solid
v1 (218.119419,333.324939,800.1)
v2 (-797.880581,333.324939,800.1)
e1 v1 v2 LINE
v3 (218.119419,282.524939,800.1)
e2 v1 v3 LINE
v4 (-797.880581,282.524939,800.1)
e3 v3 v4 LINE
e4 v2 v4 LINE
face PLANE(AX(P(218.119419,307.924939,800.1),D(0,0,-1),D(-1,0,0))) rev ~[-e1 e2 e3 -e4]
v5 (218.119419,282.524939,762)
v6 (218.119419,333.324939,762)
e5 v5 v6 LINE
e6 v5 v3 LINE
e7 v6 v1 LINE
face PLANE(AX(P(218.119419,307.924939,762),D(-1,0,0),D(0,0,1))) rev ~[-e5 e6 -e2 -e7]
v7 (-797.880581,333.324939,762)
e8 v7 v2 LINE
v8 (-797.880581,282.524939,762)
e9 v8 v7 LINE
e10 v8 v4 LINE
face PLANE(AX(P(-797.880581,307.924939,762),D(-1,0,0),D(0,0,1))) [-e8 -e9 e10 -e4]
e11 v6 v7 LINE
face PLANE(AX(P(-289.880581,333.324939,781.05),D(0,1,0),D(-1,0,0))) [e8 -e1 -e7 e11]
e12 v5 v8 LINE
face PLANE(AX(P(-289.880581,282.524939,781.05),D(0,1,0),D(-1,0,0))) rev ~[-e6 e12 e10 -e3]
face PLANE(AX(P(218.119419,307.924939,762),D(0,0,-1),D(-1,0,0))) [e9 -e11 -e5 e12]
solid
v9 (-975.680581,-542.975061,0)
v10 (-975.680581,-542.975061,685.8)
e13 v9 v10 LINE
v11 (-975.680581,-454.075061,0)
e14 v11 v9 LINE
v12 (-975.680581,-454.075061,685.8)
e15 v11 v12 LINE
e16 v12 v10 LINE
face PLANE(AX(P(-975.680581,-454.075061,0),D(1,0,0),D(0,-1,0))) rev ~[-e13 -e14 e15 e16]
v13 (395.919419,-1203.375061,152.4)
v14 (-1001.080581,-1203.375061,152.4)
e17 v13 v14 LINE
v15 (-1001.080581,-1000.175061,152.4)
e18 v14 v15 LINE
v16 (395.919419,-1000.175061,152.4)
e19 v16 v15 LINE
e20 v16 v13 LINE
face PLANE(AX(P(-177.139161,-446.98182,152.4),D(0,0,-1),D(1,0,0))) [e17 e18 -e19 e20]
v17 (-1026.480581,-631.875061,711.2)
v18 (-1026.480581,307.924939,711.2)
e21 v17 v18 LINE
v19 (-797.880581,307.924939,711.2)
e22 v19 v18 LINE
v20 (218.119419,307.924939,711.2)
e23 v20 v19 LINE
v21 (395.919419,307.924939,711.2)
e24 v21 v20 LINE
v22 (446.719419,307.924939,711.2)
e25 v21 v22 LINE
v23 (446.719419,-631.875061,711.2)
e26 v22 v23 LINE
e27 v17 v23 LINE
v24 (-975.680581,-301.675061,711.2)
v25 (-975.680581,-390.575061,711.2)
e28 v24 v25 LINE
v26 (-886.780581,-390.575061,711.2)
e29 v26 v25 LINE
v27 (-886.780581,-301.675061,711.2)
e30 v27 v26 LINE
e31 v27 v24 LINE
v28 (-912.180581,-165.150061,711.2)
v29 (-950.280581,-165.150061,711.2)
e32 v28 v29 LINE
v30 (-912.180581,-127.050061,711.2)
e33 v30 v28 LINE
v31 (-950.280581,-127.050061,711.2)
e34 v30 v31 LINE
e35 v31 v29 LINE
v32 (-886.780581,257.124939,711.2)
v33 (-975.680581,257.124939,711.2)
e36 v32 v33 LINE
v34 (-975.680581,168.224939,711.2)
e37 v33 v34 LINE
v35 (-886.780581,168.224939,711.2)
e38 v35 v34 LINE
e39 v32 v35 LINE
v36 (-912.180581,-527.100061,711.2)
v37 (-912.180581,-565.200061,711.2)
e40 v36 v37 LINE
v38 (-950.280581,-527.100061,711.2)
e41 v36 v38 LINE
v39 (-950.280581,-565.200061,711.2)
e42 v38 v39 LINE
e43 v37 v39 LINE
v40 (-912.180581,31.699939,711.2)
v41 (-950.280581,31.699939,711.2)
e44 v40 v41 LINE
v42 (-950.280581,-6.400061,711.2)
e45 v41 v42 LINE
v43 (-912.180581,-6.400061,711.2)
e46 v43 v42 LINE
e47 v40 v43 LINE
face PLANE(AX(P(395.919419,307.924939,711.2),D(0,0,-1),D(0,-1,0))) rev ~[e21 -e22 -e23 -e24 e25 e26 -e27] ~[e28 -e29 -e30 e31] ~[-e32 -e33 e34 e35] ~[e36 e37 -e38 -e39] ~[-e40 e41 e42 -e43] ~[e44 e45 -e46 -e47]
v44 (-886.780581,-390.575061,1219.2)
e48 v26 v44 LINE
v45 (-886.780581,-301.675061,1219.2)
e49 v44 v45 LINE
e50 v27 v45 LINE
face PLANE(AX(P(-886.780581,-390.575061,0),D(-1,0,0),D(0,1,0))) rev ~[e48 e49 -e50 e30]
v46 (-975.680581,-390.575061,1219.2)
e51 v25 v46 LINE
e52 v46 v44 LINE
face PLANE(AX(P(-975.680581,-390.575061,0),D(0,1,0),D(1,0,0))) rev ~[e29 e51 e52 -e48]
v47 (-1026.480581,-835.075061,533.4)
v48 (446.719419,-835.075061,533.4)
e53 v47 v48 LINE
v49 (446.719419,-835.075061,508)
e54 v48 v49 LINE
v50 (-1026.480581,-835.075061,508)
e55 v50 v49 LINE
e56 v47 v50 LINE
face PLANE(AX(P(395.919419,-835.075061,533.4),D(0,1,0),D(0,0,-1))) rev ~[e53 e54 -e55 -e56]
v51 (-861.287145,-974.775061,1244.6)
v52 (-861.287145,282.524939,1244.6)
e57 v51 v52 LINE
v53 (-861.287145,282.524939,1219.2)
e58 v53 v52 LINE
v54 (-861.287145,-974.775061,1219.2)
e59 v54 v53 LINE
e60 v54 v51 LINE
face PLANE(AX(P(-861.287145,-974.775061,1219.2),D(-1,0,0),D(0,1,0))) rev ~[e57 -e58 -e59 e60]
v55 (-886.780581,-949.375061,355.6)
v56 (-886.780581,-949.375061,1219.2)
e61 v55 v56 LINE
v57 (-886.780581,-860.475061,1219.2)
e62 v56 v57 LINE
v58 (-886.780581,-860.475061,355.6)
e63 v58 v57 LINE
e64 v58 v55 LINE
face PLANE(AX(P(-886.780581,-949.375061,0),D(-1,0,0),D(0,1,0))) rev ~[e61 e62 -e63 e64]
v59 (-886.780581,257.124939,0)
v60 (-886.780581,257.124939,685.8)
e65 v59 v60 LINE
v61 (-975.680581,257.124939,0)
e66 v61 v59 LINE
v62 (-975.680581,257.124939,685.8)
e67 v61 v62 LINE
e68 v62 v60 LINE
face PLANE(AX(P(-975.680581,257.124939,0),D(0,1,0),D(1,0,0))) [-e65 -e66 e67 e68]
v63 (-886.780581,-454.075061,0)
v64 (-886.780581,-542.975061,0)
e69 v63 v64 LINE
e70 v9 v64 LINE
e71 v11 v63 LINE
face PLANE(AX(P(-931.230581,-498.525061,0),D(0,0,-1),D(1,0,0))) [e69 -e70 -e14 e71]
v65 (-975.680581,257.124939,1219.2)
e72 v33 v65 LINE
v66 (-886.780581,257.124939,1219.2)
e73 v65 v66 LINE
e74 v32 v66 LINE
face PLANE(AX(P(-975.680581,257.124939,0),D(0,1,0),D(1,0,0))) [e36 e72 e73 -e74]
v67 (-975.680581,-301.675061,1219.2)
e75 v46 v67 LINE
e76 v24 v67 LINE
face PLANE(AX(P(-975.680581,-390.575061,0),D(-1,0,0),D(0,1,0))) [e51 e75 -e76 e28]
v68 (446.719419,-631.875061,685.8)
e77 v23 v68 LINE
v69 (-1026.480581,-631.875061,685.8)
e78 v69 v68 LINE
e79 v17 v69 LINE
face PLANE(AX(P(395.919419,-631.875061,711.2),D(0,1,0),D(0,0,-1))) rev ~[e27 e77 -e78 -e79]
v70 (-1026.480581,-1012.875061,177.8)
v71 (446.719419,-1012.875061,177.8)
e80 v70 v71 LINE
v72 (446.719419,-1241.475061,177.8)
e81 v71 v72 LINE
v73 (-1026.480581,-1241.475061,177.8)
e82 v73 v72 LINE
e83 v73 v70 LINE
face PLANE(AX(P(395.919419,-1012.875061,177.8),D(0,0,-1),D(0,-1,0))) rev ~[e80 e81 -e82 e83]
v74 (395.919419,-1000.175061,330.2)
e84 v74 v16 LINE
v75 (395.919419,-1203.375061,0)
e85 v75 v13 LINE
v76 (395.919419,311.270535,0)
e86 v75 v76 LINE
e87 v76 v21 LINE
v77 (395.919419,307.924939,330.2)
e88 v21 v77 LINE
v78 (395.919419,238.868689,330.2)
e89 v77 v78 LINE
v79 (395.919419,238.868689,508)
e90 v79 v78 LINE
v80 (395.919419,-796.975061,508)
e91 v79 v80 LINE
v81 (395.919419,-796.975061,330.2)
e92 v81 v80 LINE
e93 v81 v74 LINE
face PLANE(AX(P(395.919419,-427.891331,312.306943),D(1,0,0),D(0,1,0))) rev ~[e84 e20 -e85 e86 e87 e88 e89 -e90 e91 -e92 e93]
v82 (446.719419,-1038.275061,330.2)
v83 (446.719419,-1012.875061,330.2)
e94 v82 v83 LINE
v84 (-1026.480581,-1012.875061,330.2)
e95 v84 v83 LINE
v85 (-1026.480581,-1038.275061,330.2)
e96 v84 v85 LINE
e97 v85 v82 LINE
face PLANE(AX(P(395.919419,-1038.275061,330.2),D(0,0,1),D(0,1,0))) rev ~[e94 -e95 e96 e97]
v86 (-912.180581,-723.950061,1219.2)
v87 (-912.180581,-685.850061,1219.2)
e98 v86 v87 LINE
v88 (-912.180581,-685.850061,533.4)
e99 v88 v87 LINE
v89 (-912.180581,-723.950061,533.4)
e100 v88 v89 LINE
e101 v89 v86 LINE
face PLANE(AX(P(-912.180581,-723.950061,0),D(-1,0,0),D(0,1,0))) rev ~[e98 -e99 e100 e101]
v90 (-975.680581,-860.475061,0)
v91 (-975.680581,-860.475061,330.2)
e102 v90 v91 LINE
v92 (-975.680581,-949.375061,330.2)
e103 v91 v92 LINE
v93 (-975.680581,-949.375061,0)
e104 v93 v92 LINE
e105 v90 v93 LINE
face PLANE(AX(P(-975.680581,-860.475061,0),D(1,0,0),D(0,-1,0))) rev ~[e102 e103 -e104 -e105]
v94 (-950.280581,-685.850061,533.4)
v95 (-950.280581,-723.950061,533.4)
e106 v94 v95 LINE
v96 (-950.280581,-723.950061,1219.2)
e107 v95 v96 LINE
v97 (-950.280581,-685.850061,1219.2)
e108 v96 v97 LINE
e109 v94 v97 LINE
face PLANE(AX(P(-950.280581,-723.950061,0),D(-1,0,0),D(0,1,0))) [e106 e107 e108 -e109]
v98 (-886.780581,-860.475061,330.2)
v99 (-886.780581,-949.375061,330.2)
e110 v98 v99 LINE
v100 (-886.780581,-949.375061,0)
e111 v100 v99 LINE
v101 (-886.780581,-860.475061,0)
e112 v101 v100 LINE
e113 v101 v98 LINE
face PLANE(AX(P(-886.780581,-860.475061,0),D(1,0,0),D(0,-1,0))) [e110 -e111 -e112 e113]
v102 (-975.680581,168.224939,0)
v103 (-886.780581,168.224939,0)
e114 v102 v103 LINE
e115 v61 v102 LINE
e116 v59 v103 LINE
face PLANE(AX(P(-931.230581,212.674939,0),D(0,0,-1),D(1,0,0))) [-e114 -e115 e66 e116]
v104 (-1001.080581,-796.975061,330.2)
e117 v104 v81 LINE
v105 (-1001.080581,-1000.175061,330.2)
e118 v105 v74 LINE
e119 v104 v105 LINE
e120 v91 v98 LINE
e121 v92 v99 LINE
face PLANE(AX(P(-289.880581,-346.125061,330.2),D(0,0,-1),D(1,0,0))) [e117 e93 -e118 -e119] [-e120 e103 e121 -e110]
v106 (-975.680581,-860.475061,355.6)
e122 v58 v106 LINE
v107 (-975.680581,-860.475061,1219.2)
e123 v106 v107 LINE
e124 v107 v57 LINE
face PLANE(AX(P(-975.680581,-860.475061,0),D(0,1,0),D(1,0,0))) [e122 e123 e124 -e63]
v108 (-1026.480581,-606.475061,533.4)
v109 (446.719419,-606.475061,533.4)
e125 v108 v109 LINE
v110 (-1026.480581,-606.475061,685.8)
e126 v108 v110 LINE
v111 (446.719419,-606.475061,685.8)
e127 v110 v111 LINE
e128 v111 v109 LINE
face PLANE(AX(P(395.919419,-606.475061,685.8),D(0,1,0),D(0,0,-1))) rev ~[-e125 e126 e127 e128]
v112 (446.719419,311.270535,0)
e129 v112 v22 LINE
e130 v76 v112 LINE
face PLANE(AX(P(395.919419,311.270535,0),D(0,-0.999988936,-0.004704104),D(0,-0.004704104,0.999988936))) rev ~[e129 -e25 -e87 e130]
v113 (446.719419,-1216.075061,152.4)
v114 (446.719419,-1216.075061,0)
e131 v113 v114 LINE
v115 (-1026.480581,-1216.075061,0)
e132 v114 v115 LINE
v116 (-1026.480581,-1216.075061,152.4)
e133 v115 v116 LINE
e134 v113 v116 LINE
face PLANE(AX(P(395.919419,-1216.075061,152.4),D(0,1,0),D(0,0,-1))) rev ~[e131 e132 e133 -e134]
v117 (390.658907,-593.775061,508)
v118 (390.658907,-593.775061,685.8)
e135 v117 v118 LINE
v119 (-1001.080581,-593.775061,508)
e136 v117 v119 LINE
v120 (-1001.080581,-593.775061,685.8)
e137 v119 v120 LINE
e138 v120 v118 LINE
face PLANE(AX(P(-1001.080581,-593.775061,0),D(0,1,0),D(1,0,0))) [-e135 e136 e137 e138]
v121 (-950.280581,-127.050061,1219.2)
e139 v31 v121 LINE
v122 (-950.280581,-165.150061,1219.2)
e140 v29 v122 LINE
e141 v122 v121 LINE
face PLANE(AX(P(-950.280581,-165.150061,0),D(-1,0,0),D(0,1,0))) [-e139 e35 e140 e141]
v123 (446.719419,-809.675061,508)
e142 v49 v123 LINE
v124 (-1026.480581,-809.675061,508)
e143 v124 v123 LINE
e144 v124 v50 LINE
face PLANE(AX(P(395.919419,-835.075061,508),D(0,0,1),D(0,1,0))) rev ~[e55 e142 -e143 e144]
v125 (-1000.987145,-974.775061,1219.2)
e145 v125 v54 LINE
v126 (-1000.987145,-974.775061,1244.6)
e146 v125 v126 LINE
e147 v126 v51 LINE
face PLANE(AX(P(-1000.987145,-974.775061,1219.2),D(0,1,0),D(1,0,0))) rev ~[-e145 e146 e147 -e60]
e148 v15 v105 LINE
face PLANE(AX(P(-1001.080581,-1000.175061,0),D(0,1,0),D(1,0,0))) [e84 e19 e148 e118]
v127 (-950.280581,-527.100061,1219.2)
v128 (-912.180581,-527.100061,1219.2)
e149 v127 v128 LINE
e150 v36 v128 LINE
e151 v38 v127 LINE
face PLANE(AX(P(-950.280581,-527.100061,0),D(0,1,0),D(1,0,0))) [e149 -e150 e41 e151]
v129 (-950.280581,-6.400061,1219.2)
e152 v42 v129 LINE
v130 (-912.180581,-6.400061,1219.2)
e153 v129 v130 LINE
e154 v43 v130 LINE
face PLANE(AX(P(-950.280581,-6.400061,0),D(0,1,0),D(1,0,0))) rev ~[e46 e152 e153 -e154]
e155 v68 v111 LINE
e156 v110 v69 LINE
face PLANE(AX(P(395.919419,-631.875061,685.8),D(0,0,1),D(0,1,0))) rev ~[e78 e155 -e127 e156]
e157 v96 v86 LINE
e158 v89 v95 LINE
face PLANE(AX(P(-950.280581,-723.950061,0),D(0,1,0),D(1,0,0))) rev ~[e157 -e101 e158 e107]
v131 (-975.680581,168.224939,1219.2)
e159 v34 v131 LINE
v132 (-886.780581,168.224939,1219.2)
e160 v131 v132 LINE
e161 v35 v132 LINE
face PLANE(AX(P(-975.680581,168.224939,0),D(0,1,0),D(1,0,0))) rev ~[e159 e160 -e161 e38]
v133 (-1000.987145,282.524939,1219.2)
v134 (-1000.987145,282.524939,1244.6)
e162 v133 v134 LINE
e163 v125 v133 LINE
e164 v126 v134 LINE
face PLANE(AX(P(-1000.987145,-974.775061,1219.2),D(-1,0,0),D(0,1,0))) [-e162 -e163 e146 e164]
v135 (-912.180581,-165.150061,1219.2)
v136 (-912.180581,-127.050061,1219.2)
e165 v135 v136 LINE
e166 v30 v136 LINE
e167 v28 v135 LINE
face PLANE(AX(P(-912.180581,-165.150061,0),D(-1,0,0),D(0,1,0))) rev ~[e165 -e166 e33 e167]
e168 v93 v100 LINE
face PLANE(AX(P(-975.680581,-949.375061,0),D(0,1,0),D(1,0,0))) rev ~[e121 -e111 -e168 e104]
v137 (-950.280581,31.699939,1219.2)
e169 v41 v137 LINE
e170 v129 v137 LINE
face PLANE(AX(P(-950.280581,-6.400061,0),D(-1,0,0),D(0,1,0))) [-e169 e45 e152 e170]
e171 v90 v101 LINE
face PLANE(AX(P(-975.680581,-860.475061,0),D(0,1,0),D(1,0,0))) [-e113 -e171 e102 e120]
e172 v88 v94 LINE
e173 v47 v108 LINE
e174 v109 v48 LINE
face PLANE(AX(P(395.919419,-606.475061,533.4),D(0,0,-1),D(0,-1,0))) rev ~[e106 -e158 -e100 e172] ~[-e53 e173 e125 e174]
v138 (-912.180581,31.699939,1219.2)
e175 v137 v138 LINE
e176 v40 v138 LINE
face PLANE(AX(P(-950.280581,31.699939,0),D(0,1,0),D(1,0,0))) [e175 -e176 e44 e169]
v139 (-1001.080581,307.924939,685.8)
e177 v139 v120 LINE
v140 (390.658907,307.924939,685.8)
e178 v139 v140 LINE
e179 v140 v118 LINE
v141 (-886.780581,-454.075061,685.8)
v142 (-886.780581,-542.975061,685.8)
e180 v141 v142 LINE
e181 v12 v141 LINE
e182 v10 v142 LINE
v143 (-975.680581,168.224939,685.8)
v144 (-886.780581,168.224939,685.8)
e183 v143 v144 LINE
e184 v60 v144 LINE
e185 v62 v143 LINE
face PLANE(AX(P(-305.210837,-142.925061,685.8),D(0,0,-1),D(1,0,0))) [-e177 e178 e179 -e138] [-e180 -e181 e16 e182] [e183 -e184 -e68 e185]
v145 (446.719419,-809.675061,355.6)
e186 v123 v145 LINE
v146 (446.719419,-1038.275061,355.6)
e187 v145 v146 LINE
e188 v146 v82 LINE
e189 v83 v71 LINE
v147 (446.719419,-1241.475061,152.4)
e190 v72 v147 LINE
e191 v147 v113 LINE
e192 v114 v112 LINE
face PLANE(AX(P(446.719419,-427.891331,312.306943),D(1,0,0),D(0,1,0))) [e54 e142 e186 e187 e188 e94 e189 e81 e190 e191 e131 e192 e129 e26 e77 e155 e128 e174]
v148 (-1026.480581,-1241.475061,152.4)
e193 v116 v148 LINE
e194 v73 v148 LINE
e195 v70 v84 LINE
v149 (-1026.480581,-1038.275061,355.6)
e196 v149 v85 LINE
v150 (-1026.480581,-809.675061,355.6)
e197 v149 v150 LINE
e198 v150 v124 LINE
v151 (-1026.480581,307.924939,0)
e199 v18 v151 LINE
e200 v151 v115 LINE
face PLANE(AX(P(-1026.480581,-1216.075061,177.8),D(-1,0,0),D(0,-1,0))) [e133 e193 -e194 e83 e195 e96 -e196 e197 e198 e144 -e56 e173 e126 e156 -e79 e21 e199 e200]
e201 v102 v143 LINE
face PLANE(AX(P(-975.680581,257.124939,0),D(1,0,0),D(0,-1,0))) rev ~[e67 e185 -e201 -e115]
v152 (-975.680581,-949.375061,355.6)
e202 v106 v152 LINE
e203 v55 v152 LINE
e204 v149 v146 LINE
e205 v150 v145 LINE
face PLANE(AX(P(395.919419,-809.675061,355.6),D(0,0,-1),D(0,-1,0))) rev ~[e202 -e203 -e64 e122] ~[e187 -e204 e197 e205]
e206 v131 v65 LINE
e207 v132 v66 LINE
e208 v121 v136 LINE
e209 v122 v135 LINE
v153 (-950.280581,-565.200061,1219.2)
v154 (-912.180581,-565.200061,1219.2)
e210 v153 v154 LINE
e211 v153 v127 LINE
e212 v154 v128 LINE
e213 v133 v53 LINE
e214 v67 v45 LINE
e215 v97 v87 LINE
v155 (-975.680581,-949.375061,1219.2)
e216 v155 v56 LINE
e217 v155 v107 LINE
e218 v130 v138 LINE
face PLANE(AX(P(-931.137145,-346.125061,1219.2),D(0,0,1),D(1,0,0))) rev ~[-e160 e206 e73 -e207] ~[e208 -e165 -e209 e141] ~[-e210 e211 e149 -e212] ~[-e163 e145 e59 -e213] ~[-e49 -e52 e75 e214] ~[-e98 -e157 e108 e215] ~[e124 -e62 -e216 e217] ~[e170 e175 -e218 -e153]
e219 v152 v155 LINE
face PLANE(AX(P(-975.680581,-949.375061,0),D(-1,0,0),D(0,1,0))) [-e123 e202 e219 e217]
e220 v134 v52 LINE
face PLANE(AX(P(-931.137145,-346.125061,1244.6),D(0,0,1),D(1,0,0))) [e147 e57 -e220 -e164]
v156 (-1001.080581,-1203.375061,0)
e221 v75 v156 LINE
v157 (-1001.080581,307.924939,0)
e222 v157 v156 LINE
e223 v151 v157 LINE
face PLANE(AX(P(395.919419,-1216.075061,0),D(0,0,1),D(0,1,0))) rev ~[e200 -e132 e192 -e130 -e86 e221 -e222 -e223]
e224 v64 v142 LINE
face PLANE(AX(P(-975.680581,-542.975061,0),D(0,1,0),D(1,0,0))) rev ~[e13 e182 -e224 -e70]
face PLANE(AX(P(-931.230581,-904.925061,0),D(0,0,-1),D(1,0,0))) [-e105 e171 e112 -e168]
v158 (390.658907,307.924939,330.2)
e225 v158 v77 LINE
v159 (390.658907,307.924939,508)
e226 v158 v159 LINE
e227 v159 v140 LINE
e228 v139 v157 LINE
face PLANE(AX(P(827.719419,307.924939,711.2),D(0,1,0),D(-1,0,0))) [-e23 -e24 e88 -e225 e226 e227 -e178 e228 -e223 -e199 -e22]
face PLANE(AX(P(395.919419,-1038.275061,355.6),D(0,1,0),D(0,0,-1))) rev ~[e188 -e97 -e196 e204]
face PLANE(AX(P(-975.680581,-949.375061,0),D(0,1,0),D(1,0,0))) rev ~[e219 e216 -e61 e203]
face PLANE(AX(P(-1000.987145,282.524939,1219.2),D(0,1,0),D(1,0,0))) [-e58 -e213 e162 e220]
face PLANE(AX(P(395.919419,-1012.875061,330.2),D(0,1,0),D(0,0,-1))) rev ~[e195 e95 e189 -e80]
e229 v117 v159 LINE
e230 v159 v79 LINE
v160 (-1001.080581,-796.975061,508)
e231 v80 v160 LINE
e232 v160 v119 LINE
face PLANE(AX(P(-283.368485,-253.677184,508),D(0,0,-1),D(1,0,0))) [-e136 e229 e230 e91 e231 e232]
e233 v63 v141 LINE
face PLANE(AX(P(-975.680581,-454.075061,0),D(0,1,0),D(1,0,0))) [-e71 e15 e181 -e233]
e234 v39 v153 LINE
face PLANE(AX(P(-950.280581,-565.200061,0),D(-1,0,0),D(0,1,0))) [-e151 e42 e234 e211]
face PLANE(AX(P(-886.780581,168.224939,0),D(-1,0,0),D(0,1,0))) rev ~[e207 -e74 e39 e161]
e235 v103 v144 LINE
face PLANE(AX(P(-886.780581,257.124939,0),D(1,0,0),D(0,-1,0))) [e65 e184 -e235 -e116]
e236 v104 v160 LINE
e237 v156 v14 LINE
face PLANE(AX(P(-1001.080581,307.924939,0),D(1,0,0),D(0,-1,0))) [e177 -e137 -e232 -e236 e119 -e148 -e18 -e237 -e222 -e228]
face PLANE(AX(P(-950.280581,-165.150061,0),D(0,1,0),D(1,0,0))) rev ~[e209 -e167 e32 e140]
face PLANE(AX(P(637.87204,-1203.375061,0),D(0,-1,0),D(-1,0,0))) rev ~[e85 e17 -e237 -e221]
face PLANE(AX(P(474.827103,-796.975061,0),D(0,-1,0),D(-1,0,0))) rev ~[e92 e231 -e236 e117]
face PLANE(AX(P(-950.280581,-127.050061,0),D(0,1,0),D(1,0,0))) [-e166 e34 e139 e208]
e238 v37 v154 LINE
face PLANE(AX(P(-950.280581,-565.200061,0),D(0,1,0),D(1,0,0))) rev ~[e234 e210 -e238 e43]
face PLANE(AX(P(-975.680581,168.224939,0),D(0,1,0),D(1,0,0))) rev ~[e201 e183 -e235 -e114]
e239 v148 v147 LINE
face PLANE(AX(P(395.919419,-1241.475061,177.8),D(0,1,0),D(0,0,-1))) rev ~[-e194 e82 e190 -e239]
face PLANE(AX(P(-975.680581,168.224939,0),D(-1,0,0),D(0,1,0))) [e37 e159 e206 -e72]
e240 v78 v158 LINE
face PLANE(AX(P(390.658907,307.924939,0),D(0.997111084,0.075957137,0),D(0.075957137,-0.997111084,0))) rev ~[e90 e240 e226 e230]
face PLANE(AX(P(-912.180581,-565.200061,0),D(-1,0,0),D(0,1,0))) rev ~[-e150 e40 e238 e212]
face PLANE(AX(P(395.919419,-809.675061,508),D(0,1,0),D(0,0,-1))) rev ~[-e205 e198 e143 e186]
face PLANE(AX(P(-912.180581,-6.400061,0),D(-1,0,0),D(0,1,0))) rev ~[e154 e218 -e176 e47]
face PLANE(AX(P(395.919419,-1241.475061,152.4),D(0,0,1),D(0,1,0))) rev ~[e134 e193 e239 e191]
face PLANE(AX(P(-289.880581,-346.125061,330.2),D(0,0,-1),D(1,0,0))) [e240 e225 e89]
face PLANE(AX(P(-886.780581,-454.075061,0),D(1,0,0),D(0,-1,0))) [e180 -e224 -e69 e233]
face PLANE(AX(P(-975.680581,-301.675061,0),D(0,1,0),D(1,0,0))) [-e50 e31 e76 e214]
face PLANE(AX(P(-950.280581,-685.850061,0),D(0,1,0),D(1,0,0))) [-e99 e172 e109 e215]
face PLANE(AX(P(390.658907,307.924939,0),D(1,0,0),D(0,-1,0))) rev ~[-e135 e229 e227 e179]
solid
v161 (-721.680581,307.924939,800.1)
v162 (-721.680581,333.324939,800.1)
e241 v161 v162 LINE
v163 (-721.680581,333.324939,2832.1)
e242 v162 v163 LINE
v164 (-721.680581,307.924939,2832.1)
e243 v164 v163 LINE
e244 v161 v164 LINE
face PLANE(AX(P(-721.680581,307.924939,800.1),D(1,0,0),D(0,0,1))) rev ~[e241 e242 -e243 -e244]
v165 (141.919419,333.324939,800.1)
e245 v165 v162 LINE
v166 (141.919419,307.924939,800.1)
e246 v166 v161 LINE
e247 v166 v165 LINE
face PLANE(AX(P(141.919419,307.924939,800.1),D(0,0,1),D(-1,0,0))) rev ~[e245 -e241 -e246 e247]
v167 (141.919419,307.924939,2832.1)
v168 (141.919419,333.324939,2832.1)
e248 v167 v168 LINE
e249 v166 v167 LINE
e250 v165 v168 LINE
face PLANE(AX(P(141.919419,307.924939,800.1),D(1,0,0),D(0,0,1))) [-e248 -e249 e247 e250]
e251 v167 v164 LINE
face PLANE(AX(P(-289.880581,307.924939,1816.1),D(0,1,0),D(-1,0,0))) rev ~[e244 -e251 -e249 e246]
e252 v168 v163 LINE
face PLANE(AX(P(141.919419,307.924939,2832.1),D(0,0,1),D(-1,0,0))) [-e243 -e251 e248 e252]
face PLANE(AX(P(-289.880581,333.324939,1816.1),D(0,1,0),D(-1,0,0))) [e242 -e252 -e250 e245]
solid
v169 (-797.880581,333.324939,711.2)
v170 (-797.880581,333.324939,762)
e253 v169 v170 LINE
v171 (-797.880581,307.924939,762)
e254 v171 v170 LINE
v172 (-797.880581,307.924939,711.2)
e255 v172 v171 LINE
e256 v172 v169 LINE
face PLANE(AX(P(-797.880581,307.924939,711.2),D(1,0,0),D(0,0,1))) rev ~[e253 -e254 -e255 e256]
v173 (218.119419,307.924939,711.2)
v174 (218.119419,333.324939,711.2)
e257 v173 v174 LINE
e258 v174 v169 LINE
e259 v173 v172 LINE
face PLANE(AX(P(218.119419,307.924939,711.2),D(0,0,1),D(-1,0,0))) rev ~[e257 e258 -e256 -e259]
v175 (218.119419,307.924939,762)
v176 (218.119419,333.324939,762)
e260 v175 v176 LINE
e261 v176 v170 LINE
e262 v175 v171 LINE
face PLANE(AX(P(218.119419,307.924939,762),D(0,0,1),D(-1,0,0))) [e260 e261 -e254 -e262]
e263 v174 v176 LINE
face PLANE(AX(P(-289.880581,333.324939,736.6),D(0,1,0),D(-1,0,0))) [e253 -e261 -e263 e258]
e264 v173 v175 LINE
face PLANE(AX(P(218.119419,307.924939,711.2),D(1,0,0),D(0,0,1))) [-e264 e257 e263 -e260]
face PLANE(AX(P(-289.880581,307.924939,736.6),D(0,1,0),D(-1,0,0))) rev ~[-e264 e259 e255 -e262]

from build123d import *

# Parameters (mm, degrees)
F1_DEPTH       = 711.2
F3_DEPTH       = 533.4
F5_DEPTH       = 355.6
F7_DEPTH       = 177.8
F8_W           = 88.9
F8_H           = 88.9
F8_W_2         = 38.1
F8_H_2         = 38.1
F9_DEPTH       = 1219.2
F10_W          = 139.7
F10_H          = 1257.3
F11_DEPTH      = 25.4
F12_W          = 863.6
F12_H          = 2032
F13_DEPTH      = 25.4
F14_W          = 1016
F14_H          = 38.1
F15_DEPTH      = 25.4
F15_DEPTH_BACK = 25.4
F16_W          = 1016
F16_H          = 50.8
F17_DEPTH      = 25.4
F18_W          = 38.1
F18_H          = 38.1
F18_W_2        = 88.9
F18_H_2        = 88.9
F19_DEPTH      = 25.4
F21_DEPTH      = 25.4
F23_DEPTH      = 25.4
F25_DEPTH      = 25.4
F30_W          = 1391.7394877579
F30_H          = 901.7
F31_DEPTH      = 685.8
F33_DEPTH      = 508
F34_W          = 1422.4
F34_H          = 1308.1
F35_DEPTH      = 330.2
F37_DEPTH      = 152.4
F38_W          = 88.9
F38_H          = 88.9
F40_W          = 1272.0178561494
F40_H          = 1746.8100812477
F41_DEPTH      = 2006.6
F43_DEPTH      = 50.8


with BuildPart() as f1:
    # F0 (on Top) → F1 (new body)
    with BuildSketch(Plane.XY):
        Polygon((802.3194193208, 307.9249393946), (-1026.4805806792, 307.9249393946), (-1026.4805806792, -606.4750606054), (395.9194193208, -606.4750606054), (802.3194193208, -200.0750606054), align=None)
    extrude(amount=F1_DEPTH)

    # F2 (on Top) → F3 (join)
    with BuildSketch(Plane.XY):
        Polygon((395.9194193208, -606.4750606054), (-1026.4805806792, -606.4750606054), (-1026.4805806792, -809.6750606054), (480.087615195, -809.6750606054), (1005.5194193208, -284.2432564796), (1005.5194193208, 307.9249393946), (802.3194193208, 307.9249393946), (802.3194193208, -200.0750606054), align=None)
    extrude(amount=F3_DEPTH)

    # F4 (on Top) → F5 (join)
    with BuildSketch(Plane.XY):
        Polygon((480.087615195, -809.6750606054), (-1026.4805806792, -809.6750606054), (-1026.4805806792, -1012.8750606054), (564.2558110692, -1012.8750606054), (1208.7194193208, -368.4114523538), (1208.7194193208, 307.9249393946), (1005.5194193208, 307.9249393946), (1005.5194193208, -284.2432564796), align=None)
    extrude(amount=F5_DEPTH)

    # F6 (on Top) → F7 (join)
    with BuildSketch(Plane.XY):
        Polygon((564.2558110692, -1012.8750606054), (-1026.4805806792, -1012.8750606054), (-1026.4805806792, -1216.0750606054), (648.4240069434, -1216.0750606054), (1411.9194193208, -452.579648228), (1411.9194193208, 307.9249393946), (1208.7194193208, 307.9249393946), (1208.7194193208, -368.4114523538), align=None)
    extrude(amount=F7_DEPTH)

    # F8 (on Top) → F9 (join)
    with BuildSketch(Plane.XY):
        with Locations((-931.2305806792, -904.9250606054)):
            Rectangle(F8_W, F8_H)
        with Locations((-931.2305806792, 212.6749393946)):
            Rectangle(F8_W, F8_H)
        with Locations((-931.2305806792, -346.1250606054)):
            Rectangle(F8_W, F8_H)
        with Locations((-931.2305806792, 12.6499393946)):
            Rectangle(F8_W_2, F8_H_2)
        with Locations((-931.2305806792, -146.1000606054)):
            Rectangle(F8_W_2, F8_H_2)
        with Locations((-931.2305806792, -546.1500606054)):
            Rectangle(F8_W_2, F8_H_2)
        with Locations((-931.2305806792, -704.9000606054)):
            Rectangle(F8_W_2, F8_H_2)
    extrude(amount=F9_DEPTH)

    # F10 (on face) → F11 (join)
    with BuildSketch(Plane.XY.offset(1219.2)):
        with Locations((-931.1371445656, -346.1250606054)):
            Rectangle(F10_W, F10_H)
    extrude(amount=F11_DEPTH)



with BuildPart() as f13:
    # F12 (on face) → F13 (new body)
    with BuildSketch(Plane(origin=(0, 307.9249393946, 0), x_dir=(-1, 0, 0), z_dir=(0, 1, 0))):
        with Locations((289.8805806792, 1816.1)):
            Rectangle(F12_W, F12_H)
    extrude(amount=F13_DEPTH)


with BuildPart() as f15:
    # F14 (on face) → F15 (new body, two sides)
    with BuildSketch(Plane(origin=(0, 307.9249393946, 0), x_dir=(-1, 0, 0), z_dir=(0, 1, 0))) as f15_sk:
        with Locations((289.8805806792, 781.05)):
            Rectangle(F14_W, F14_H)
    extrude(amount=F15_DEPTH)
    extrude(f15_sk.sketch, amount=-F15_DEPTH_BACK)


with BuildPart() as f17:
    # F16 (on face) → F17 (new body)
    with BuildSketch(Plane(origin=(0, 307.9249393946, 0), x_dir=(-1, 0, 0), z_dir=(0, 1, 0))):
        with Locations((289.8805806792, 736.6)):
            Rectangle(F16_W, F16_H)
    extrude(amount=F17_DEPTH)


with BuildPart() as f1_1:
    add(f1.part)

    add(f17.part)  # F19 merges F17
    # F18 (on face) → F19 (join)
    with BuildSketch(Plane.XY.offset(711.2)):
        Polygon((395.9194193208, -606.4750606054), (-1026.4805806792, -606.4750606054), (-1026.4805806792, -631.8750606054), (406.4404438051, -631.8750606054), (827.7194193208, -210.5960850896), (827.7194193208, 307.9249393946), (802.3194193208, 307.9249393946), (802.3194193208, -200.0750606054), align=None)
        Polygon((-1026.4805806792, 307.9249393946), (-1026.4805806792, -606.4750606054), (395.9194193208, -606.4750606054), (802.3194193208, -200.0750606054), (802.3194193208, 307.9249393946), align=None)
        with Locations((-931.2305806792, -546.1500606054)):
            Rectangle(F18_W, F18_H, mode=Mode.SUBTRACT)
        with Locations((-931.2305806792, -346.1250606054)):
            Rectangle(F18_W_2, F18_H_2, mode=Mode.SUBTRACT)
        with Locations((-931.2305806792, -146.1000606054)):
            Rectangle(F18_W, F18_H, mode=Mode.SUBTRACT)
        with Locations((-931.2305806792, 12.6499393946)):
            Rectangle(F18_W, F18_H, mode=Mode.SUBTRACT)
        with Locations((-931.2305806792, 212.6749393946)):
            Rectangle(F18_W_2, F18_H_2, mode=Mode.SUBTRACT)
    extrude(amount=-F19_DEPTH)

    # F20 (on face) → F21 (join)
    with BuildSketch(Plane.XY.offset(533.4)):
        Polygon((480.087615195, -809.6750606054), (-1026.4805806792, -809.6750606054), (-1026.4805806792, -835.0750606054), (490.6086396793, -835.0750606054), (1030.9194193208, -294.7642809639), (1030.9194193208, 308.4329366684), (1005.5194193208, 307.9249393946), (1005.5194193208, -284.2432564796), align=None)
    extrude(amount=-F21_DEPTH)

    # F22 (on face) → F23 (join)
    with BuildSketch(Plane.XY.offset(355.6)):
        Polygon((564.2558110692, -1012.8750606054), (-1026.4805806792, -1012.8750606054), (-1026.4805806792, -1038.2750606054), (574.7768355535, -1038.2750606054), (1234.1194193208, -378.9324768381), (1234.1194193208, 307.9249393946), (1208.7194193208, 307.9249393946), (1208.7194193208, -368.4114523538), align=None)
    extrude(amount=-F23_DEPTH)

    # F24 (on face) → F25 (join)
    with BuildSketch(Plane.XY.offset(177.8)):
        Polygon((648.4240069434, -1216.0750606054), (-1026.4805806792, -1216.0750606054), (-1026.4805806792, -1241.4750606054), (658.9450314277, -1241.4750606054), (1439.038190565, -461.3819014681), (1437.3194193208, 307.9249393946), (1411.9194193208, 307.9249393946), (1411.9194193208, -452.579648228), align=None)
    extrude(amount=-F25_DEPTH)

    # F30 (on face) → F31 (cut, through all)
    with BuildSketch(Plane(origin=(0, 0, 0), x_dir=(1, 0, 0), z_dir=(0, 0, -1))):
        with Locations((-305.2108368003, 142.9250606054)):
            Rectangle(F30_W, F30_H)
    extrude(amount=-F31_DEPTH, mode=Mode.SUBTRACT)

    # F32 (on face) → F33 (cut, through all)
    with BuildSketch(Plane(origin=(0, 0, 0), x_dir=(1, 0, 0), z_dir=(0, 0, -1))):
        Polygon((474.8271029529, 796.9750606054), (-1001.0805806792, 796.9750606054), (-1001.0805806792, -307.9249393946), (390.6589070787, -307.9249393946), align=None)
    extrude(amount=-F33_DEPTH, mode=Mode.SUBTRACT)

    # F34 (on face) → F35 (cut, through all)
    with BuildSketch(Plane(origin=(0, 0, 0), x_dir=(1, 0, 0), z_dir=(0, 0, -1))):
        with Locations((-289.8805806792, 346.1250606054)):
            Rectangle(F34_W, F34_H)
    extrude(amount=-F35_DEPTH, mode=Mode.SUBTRACT)

    # F36 (on face) → F37 (cut, through all)
    with BuildSketch(Plane(origin=(0, 0, 0), x_dir=(1, 0, 0), z_dir=(0, 0, -1))):
        Polygon((637.8720402718, 1203.3750606054), (-1001.0805806792, 1203.3750606054), (-1001.0805806792, -307.9249393946), (648.4240069434, -307.9249393946), (648.4240069434, 1192.8230939337), align=None)
    extrude(amount=-F37_DEPTH, mode=Mode.SUBTRACT)

    # F38 (on face) → F39 (join, up to the next surface of F1)
    with BuildSketch(Plane(origin=(0, 0, 0), x_dir=(1, 0, 0), z_dir=(0, 0, -1))):
        with Locations((-931.2305806792, -212.6749393946)):
            Rectangle(F38_W, F38_H)
        with Locations((-931.2305806792, 498.5250606054)):
            Rectangle(F38_W, F38_H)
        with Locations((-931.2305806792, 904.9250606054)):
            Rectangle(F38_W, F38_H)
    extrude(until=Until.NEXT, dir=(0, 0, 1))

    # F40 (on face) → F41 (cut)
    with BuildSketch(Plane.XY.offset(711.2)):
        with Locations((1031.9283473955, -472.5622981787)):
            Rectangle(F40_W, F40_H)
    extrude(amount=-F41_DEPTH, mode=Mode.SUBTRACT)

    # F42 (on face) → F43 (join)
    with BuildSketch(Plane.YZ.offset(395.9194193208)):
        Polygon((311.2705349922, 0), (307.9249393946, 711.2), (-631.8750606054, 711.2), (-631.8750606054, 685.8), (-606.4750606054, 685.8), (-606.4750606054, 533.4), (-835.0750606054, 533.4), (-835.0750606054, 508), (-809.6750606054, 508), (-809.6750606054, 355.6), (-1038.2750606054, 355.6), (-1038.2750606054, 330.2), (-1012.8750606054, 330.2), (-1012.8750606054, 177.8), (-1241.4750606054, 177.8), (-1241.4750606054, 152.4), (-1216.0750606054, 152.4), (-1216.0750606054, 0), align=None)
    extrude(amount=F43_DEPTH)


solid = Compound([f13.part, f15.part, f1_1.part])
